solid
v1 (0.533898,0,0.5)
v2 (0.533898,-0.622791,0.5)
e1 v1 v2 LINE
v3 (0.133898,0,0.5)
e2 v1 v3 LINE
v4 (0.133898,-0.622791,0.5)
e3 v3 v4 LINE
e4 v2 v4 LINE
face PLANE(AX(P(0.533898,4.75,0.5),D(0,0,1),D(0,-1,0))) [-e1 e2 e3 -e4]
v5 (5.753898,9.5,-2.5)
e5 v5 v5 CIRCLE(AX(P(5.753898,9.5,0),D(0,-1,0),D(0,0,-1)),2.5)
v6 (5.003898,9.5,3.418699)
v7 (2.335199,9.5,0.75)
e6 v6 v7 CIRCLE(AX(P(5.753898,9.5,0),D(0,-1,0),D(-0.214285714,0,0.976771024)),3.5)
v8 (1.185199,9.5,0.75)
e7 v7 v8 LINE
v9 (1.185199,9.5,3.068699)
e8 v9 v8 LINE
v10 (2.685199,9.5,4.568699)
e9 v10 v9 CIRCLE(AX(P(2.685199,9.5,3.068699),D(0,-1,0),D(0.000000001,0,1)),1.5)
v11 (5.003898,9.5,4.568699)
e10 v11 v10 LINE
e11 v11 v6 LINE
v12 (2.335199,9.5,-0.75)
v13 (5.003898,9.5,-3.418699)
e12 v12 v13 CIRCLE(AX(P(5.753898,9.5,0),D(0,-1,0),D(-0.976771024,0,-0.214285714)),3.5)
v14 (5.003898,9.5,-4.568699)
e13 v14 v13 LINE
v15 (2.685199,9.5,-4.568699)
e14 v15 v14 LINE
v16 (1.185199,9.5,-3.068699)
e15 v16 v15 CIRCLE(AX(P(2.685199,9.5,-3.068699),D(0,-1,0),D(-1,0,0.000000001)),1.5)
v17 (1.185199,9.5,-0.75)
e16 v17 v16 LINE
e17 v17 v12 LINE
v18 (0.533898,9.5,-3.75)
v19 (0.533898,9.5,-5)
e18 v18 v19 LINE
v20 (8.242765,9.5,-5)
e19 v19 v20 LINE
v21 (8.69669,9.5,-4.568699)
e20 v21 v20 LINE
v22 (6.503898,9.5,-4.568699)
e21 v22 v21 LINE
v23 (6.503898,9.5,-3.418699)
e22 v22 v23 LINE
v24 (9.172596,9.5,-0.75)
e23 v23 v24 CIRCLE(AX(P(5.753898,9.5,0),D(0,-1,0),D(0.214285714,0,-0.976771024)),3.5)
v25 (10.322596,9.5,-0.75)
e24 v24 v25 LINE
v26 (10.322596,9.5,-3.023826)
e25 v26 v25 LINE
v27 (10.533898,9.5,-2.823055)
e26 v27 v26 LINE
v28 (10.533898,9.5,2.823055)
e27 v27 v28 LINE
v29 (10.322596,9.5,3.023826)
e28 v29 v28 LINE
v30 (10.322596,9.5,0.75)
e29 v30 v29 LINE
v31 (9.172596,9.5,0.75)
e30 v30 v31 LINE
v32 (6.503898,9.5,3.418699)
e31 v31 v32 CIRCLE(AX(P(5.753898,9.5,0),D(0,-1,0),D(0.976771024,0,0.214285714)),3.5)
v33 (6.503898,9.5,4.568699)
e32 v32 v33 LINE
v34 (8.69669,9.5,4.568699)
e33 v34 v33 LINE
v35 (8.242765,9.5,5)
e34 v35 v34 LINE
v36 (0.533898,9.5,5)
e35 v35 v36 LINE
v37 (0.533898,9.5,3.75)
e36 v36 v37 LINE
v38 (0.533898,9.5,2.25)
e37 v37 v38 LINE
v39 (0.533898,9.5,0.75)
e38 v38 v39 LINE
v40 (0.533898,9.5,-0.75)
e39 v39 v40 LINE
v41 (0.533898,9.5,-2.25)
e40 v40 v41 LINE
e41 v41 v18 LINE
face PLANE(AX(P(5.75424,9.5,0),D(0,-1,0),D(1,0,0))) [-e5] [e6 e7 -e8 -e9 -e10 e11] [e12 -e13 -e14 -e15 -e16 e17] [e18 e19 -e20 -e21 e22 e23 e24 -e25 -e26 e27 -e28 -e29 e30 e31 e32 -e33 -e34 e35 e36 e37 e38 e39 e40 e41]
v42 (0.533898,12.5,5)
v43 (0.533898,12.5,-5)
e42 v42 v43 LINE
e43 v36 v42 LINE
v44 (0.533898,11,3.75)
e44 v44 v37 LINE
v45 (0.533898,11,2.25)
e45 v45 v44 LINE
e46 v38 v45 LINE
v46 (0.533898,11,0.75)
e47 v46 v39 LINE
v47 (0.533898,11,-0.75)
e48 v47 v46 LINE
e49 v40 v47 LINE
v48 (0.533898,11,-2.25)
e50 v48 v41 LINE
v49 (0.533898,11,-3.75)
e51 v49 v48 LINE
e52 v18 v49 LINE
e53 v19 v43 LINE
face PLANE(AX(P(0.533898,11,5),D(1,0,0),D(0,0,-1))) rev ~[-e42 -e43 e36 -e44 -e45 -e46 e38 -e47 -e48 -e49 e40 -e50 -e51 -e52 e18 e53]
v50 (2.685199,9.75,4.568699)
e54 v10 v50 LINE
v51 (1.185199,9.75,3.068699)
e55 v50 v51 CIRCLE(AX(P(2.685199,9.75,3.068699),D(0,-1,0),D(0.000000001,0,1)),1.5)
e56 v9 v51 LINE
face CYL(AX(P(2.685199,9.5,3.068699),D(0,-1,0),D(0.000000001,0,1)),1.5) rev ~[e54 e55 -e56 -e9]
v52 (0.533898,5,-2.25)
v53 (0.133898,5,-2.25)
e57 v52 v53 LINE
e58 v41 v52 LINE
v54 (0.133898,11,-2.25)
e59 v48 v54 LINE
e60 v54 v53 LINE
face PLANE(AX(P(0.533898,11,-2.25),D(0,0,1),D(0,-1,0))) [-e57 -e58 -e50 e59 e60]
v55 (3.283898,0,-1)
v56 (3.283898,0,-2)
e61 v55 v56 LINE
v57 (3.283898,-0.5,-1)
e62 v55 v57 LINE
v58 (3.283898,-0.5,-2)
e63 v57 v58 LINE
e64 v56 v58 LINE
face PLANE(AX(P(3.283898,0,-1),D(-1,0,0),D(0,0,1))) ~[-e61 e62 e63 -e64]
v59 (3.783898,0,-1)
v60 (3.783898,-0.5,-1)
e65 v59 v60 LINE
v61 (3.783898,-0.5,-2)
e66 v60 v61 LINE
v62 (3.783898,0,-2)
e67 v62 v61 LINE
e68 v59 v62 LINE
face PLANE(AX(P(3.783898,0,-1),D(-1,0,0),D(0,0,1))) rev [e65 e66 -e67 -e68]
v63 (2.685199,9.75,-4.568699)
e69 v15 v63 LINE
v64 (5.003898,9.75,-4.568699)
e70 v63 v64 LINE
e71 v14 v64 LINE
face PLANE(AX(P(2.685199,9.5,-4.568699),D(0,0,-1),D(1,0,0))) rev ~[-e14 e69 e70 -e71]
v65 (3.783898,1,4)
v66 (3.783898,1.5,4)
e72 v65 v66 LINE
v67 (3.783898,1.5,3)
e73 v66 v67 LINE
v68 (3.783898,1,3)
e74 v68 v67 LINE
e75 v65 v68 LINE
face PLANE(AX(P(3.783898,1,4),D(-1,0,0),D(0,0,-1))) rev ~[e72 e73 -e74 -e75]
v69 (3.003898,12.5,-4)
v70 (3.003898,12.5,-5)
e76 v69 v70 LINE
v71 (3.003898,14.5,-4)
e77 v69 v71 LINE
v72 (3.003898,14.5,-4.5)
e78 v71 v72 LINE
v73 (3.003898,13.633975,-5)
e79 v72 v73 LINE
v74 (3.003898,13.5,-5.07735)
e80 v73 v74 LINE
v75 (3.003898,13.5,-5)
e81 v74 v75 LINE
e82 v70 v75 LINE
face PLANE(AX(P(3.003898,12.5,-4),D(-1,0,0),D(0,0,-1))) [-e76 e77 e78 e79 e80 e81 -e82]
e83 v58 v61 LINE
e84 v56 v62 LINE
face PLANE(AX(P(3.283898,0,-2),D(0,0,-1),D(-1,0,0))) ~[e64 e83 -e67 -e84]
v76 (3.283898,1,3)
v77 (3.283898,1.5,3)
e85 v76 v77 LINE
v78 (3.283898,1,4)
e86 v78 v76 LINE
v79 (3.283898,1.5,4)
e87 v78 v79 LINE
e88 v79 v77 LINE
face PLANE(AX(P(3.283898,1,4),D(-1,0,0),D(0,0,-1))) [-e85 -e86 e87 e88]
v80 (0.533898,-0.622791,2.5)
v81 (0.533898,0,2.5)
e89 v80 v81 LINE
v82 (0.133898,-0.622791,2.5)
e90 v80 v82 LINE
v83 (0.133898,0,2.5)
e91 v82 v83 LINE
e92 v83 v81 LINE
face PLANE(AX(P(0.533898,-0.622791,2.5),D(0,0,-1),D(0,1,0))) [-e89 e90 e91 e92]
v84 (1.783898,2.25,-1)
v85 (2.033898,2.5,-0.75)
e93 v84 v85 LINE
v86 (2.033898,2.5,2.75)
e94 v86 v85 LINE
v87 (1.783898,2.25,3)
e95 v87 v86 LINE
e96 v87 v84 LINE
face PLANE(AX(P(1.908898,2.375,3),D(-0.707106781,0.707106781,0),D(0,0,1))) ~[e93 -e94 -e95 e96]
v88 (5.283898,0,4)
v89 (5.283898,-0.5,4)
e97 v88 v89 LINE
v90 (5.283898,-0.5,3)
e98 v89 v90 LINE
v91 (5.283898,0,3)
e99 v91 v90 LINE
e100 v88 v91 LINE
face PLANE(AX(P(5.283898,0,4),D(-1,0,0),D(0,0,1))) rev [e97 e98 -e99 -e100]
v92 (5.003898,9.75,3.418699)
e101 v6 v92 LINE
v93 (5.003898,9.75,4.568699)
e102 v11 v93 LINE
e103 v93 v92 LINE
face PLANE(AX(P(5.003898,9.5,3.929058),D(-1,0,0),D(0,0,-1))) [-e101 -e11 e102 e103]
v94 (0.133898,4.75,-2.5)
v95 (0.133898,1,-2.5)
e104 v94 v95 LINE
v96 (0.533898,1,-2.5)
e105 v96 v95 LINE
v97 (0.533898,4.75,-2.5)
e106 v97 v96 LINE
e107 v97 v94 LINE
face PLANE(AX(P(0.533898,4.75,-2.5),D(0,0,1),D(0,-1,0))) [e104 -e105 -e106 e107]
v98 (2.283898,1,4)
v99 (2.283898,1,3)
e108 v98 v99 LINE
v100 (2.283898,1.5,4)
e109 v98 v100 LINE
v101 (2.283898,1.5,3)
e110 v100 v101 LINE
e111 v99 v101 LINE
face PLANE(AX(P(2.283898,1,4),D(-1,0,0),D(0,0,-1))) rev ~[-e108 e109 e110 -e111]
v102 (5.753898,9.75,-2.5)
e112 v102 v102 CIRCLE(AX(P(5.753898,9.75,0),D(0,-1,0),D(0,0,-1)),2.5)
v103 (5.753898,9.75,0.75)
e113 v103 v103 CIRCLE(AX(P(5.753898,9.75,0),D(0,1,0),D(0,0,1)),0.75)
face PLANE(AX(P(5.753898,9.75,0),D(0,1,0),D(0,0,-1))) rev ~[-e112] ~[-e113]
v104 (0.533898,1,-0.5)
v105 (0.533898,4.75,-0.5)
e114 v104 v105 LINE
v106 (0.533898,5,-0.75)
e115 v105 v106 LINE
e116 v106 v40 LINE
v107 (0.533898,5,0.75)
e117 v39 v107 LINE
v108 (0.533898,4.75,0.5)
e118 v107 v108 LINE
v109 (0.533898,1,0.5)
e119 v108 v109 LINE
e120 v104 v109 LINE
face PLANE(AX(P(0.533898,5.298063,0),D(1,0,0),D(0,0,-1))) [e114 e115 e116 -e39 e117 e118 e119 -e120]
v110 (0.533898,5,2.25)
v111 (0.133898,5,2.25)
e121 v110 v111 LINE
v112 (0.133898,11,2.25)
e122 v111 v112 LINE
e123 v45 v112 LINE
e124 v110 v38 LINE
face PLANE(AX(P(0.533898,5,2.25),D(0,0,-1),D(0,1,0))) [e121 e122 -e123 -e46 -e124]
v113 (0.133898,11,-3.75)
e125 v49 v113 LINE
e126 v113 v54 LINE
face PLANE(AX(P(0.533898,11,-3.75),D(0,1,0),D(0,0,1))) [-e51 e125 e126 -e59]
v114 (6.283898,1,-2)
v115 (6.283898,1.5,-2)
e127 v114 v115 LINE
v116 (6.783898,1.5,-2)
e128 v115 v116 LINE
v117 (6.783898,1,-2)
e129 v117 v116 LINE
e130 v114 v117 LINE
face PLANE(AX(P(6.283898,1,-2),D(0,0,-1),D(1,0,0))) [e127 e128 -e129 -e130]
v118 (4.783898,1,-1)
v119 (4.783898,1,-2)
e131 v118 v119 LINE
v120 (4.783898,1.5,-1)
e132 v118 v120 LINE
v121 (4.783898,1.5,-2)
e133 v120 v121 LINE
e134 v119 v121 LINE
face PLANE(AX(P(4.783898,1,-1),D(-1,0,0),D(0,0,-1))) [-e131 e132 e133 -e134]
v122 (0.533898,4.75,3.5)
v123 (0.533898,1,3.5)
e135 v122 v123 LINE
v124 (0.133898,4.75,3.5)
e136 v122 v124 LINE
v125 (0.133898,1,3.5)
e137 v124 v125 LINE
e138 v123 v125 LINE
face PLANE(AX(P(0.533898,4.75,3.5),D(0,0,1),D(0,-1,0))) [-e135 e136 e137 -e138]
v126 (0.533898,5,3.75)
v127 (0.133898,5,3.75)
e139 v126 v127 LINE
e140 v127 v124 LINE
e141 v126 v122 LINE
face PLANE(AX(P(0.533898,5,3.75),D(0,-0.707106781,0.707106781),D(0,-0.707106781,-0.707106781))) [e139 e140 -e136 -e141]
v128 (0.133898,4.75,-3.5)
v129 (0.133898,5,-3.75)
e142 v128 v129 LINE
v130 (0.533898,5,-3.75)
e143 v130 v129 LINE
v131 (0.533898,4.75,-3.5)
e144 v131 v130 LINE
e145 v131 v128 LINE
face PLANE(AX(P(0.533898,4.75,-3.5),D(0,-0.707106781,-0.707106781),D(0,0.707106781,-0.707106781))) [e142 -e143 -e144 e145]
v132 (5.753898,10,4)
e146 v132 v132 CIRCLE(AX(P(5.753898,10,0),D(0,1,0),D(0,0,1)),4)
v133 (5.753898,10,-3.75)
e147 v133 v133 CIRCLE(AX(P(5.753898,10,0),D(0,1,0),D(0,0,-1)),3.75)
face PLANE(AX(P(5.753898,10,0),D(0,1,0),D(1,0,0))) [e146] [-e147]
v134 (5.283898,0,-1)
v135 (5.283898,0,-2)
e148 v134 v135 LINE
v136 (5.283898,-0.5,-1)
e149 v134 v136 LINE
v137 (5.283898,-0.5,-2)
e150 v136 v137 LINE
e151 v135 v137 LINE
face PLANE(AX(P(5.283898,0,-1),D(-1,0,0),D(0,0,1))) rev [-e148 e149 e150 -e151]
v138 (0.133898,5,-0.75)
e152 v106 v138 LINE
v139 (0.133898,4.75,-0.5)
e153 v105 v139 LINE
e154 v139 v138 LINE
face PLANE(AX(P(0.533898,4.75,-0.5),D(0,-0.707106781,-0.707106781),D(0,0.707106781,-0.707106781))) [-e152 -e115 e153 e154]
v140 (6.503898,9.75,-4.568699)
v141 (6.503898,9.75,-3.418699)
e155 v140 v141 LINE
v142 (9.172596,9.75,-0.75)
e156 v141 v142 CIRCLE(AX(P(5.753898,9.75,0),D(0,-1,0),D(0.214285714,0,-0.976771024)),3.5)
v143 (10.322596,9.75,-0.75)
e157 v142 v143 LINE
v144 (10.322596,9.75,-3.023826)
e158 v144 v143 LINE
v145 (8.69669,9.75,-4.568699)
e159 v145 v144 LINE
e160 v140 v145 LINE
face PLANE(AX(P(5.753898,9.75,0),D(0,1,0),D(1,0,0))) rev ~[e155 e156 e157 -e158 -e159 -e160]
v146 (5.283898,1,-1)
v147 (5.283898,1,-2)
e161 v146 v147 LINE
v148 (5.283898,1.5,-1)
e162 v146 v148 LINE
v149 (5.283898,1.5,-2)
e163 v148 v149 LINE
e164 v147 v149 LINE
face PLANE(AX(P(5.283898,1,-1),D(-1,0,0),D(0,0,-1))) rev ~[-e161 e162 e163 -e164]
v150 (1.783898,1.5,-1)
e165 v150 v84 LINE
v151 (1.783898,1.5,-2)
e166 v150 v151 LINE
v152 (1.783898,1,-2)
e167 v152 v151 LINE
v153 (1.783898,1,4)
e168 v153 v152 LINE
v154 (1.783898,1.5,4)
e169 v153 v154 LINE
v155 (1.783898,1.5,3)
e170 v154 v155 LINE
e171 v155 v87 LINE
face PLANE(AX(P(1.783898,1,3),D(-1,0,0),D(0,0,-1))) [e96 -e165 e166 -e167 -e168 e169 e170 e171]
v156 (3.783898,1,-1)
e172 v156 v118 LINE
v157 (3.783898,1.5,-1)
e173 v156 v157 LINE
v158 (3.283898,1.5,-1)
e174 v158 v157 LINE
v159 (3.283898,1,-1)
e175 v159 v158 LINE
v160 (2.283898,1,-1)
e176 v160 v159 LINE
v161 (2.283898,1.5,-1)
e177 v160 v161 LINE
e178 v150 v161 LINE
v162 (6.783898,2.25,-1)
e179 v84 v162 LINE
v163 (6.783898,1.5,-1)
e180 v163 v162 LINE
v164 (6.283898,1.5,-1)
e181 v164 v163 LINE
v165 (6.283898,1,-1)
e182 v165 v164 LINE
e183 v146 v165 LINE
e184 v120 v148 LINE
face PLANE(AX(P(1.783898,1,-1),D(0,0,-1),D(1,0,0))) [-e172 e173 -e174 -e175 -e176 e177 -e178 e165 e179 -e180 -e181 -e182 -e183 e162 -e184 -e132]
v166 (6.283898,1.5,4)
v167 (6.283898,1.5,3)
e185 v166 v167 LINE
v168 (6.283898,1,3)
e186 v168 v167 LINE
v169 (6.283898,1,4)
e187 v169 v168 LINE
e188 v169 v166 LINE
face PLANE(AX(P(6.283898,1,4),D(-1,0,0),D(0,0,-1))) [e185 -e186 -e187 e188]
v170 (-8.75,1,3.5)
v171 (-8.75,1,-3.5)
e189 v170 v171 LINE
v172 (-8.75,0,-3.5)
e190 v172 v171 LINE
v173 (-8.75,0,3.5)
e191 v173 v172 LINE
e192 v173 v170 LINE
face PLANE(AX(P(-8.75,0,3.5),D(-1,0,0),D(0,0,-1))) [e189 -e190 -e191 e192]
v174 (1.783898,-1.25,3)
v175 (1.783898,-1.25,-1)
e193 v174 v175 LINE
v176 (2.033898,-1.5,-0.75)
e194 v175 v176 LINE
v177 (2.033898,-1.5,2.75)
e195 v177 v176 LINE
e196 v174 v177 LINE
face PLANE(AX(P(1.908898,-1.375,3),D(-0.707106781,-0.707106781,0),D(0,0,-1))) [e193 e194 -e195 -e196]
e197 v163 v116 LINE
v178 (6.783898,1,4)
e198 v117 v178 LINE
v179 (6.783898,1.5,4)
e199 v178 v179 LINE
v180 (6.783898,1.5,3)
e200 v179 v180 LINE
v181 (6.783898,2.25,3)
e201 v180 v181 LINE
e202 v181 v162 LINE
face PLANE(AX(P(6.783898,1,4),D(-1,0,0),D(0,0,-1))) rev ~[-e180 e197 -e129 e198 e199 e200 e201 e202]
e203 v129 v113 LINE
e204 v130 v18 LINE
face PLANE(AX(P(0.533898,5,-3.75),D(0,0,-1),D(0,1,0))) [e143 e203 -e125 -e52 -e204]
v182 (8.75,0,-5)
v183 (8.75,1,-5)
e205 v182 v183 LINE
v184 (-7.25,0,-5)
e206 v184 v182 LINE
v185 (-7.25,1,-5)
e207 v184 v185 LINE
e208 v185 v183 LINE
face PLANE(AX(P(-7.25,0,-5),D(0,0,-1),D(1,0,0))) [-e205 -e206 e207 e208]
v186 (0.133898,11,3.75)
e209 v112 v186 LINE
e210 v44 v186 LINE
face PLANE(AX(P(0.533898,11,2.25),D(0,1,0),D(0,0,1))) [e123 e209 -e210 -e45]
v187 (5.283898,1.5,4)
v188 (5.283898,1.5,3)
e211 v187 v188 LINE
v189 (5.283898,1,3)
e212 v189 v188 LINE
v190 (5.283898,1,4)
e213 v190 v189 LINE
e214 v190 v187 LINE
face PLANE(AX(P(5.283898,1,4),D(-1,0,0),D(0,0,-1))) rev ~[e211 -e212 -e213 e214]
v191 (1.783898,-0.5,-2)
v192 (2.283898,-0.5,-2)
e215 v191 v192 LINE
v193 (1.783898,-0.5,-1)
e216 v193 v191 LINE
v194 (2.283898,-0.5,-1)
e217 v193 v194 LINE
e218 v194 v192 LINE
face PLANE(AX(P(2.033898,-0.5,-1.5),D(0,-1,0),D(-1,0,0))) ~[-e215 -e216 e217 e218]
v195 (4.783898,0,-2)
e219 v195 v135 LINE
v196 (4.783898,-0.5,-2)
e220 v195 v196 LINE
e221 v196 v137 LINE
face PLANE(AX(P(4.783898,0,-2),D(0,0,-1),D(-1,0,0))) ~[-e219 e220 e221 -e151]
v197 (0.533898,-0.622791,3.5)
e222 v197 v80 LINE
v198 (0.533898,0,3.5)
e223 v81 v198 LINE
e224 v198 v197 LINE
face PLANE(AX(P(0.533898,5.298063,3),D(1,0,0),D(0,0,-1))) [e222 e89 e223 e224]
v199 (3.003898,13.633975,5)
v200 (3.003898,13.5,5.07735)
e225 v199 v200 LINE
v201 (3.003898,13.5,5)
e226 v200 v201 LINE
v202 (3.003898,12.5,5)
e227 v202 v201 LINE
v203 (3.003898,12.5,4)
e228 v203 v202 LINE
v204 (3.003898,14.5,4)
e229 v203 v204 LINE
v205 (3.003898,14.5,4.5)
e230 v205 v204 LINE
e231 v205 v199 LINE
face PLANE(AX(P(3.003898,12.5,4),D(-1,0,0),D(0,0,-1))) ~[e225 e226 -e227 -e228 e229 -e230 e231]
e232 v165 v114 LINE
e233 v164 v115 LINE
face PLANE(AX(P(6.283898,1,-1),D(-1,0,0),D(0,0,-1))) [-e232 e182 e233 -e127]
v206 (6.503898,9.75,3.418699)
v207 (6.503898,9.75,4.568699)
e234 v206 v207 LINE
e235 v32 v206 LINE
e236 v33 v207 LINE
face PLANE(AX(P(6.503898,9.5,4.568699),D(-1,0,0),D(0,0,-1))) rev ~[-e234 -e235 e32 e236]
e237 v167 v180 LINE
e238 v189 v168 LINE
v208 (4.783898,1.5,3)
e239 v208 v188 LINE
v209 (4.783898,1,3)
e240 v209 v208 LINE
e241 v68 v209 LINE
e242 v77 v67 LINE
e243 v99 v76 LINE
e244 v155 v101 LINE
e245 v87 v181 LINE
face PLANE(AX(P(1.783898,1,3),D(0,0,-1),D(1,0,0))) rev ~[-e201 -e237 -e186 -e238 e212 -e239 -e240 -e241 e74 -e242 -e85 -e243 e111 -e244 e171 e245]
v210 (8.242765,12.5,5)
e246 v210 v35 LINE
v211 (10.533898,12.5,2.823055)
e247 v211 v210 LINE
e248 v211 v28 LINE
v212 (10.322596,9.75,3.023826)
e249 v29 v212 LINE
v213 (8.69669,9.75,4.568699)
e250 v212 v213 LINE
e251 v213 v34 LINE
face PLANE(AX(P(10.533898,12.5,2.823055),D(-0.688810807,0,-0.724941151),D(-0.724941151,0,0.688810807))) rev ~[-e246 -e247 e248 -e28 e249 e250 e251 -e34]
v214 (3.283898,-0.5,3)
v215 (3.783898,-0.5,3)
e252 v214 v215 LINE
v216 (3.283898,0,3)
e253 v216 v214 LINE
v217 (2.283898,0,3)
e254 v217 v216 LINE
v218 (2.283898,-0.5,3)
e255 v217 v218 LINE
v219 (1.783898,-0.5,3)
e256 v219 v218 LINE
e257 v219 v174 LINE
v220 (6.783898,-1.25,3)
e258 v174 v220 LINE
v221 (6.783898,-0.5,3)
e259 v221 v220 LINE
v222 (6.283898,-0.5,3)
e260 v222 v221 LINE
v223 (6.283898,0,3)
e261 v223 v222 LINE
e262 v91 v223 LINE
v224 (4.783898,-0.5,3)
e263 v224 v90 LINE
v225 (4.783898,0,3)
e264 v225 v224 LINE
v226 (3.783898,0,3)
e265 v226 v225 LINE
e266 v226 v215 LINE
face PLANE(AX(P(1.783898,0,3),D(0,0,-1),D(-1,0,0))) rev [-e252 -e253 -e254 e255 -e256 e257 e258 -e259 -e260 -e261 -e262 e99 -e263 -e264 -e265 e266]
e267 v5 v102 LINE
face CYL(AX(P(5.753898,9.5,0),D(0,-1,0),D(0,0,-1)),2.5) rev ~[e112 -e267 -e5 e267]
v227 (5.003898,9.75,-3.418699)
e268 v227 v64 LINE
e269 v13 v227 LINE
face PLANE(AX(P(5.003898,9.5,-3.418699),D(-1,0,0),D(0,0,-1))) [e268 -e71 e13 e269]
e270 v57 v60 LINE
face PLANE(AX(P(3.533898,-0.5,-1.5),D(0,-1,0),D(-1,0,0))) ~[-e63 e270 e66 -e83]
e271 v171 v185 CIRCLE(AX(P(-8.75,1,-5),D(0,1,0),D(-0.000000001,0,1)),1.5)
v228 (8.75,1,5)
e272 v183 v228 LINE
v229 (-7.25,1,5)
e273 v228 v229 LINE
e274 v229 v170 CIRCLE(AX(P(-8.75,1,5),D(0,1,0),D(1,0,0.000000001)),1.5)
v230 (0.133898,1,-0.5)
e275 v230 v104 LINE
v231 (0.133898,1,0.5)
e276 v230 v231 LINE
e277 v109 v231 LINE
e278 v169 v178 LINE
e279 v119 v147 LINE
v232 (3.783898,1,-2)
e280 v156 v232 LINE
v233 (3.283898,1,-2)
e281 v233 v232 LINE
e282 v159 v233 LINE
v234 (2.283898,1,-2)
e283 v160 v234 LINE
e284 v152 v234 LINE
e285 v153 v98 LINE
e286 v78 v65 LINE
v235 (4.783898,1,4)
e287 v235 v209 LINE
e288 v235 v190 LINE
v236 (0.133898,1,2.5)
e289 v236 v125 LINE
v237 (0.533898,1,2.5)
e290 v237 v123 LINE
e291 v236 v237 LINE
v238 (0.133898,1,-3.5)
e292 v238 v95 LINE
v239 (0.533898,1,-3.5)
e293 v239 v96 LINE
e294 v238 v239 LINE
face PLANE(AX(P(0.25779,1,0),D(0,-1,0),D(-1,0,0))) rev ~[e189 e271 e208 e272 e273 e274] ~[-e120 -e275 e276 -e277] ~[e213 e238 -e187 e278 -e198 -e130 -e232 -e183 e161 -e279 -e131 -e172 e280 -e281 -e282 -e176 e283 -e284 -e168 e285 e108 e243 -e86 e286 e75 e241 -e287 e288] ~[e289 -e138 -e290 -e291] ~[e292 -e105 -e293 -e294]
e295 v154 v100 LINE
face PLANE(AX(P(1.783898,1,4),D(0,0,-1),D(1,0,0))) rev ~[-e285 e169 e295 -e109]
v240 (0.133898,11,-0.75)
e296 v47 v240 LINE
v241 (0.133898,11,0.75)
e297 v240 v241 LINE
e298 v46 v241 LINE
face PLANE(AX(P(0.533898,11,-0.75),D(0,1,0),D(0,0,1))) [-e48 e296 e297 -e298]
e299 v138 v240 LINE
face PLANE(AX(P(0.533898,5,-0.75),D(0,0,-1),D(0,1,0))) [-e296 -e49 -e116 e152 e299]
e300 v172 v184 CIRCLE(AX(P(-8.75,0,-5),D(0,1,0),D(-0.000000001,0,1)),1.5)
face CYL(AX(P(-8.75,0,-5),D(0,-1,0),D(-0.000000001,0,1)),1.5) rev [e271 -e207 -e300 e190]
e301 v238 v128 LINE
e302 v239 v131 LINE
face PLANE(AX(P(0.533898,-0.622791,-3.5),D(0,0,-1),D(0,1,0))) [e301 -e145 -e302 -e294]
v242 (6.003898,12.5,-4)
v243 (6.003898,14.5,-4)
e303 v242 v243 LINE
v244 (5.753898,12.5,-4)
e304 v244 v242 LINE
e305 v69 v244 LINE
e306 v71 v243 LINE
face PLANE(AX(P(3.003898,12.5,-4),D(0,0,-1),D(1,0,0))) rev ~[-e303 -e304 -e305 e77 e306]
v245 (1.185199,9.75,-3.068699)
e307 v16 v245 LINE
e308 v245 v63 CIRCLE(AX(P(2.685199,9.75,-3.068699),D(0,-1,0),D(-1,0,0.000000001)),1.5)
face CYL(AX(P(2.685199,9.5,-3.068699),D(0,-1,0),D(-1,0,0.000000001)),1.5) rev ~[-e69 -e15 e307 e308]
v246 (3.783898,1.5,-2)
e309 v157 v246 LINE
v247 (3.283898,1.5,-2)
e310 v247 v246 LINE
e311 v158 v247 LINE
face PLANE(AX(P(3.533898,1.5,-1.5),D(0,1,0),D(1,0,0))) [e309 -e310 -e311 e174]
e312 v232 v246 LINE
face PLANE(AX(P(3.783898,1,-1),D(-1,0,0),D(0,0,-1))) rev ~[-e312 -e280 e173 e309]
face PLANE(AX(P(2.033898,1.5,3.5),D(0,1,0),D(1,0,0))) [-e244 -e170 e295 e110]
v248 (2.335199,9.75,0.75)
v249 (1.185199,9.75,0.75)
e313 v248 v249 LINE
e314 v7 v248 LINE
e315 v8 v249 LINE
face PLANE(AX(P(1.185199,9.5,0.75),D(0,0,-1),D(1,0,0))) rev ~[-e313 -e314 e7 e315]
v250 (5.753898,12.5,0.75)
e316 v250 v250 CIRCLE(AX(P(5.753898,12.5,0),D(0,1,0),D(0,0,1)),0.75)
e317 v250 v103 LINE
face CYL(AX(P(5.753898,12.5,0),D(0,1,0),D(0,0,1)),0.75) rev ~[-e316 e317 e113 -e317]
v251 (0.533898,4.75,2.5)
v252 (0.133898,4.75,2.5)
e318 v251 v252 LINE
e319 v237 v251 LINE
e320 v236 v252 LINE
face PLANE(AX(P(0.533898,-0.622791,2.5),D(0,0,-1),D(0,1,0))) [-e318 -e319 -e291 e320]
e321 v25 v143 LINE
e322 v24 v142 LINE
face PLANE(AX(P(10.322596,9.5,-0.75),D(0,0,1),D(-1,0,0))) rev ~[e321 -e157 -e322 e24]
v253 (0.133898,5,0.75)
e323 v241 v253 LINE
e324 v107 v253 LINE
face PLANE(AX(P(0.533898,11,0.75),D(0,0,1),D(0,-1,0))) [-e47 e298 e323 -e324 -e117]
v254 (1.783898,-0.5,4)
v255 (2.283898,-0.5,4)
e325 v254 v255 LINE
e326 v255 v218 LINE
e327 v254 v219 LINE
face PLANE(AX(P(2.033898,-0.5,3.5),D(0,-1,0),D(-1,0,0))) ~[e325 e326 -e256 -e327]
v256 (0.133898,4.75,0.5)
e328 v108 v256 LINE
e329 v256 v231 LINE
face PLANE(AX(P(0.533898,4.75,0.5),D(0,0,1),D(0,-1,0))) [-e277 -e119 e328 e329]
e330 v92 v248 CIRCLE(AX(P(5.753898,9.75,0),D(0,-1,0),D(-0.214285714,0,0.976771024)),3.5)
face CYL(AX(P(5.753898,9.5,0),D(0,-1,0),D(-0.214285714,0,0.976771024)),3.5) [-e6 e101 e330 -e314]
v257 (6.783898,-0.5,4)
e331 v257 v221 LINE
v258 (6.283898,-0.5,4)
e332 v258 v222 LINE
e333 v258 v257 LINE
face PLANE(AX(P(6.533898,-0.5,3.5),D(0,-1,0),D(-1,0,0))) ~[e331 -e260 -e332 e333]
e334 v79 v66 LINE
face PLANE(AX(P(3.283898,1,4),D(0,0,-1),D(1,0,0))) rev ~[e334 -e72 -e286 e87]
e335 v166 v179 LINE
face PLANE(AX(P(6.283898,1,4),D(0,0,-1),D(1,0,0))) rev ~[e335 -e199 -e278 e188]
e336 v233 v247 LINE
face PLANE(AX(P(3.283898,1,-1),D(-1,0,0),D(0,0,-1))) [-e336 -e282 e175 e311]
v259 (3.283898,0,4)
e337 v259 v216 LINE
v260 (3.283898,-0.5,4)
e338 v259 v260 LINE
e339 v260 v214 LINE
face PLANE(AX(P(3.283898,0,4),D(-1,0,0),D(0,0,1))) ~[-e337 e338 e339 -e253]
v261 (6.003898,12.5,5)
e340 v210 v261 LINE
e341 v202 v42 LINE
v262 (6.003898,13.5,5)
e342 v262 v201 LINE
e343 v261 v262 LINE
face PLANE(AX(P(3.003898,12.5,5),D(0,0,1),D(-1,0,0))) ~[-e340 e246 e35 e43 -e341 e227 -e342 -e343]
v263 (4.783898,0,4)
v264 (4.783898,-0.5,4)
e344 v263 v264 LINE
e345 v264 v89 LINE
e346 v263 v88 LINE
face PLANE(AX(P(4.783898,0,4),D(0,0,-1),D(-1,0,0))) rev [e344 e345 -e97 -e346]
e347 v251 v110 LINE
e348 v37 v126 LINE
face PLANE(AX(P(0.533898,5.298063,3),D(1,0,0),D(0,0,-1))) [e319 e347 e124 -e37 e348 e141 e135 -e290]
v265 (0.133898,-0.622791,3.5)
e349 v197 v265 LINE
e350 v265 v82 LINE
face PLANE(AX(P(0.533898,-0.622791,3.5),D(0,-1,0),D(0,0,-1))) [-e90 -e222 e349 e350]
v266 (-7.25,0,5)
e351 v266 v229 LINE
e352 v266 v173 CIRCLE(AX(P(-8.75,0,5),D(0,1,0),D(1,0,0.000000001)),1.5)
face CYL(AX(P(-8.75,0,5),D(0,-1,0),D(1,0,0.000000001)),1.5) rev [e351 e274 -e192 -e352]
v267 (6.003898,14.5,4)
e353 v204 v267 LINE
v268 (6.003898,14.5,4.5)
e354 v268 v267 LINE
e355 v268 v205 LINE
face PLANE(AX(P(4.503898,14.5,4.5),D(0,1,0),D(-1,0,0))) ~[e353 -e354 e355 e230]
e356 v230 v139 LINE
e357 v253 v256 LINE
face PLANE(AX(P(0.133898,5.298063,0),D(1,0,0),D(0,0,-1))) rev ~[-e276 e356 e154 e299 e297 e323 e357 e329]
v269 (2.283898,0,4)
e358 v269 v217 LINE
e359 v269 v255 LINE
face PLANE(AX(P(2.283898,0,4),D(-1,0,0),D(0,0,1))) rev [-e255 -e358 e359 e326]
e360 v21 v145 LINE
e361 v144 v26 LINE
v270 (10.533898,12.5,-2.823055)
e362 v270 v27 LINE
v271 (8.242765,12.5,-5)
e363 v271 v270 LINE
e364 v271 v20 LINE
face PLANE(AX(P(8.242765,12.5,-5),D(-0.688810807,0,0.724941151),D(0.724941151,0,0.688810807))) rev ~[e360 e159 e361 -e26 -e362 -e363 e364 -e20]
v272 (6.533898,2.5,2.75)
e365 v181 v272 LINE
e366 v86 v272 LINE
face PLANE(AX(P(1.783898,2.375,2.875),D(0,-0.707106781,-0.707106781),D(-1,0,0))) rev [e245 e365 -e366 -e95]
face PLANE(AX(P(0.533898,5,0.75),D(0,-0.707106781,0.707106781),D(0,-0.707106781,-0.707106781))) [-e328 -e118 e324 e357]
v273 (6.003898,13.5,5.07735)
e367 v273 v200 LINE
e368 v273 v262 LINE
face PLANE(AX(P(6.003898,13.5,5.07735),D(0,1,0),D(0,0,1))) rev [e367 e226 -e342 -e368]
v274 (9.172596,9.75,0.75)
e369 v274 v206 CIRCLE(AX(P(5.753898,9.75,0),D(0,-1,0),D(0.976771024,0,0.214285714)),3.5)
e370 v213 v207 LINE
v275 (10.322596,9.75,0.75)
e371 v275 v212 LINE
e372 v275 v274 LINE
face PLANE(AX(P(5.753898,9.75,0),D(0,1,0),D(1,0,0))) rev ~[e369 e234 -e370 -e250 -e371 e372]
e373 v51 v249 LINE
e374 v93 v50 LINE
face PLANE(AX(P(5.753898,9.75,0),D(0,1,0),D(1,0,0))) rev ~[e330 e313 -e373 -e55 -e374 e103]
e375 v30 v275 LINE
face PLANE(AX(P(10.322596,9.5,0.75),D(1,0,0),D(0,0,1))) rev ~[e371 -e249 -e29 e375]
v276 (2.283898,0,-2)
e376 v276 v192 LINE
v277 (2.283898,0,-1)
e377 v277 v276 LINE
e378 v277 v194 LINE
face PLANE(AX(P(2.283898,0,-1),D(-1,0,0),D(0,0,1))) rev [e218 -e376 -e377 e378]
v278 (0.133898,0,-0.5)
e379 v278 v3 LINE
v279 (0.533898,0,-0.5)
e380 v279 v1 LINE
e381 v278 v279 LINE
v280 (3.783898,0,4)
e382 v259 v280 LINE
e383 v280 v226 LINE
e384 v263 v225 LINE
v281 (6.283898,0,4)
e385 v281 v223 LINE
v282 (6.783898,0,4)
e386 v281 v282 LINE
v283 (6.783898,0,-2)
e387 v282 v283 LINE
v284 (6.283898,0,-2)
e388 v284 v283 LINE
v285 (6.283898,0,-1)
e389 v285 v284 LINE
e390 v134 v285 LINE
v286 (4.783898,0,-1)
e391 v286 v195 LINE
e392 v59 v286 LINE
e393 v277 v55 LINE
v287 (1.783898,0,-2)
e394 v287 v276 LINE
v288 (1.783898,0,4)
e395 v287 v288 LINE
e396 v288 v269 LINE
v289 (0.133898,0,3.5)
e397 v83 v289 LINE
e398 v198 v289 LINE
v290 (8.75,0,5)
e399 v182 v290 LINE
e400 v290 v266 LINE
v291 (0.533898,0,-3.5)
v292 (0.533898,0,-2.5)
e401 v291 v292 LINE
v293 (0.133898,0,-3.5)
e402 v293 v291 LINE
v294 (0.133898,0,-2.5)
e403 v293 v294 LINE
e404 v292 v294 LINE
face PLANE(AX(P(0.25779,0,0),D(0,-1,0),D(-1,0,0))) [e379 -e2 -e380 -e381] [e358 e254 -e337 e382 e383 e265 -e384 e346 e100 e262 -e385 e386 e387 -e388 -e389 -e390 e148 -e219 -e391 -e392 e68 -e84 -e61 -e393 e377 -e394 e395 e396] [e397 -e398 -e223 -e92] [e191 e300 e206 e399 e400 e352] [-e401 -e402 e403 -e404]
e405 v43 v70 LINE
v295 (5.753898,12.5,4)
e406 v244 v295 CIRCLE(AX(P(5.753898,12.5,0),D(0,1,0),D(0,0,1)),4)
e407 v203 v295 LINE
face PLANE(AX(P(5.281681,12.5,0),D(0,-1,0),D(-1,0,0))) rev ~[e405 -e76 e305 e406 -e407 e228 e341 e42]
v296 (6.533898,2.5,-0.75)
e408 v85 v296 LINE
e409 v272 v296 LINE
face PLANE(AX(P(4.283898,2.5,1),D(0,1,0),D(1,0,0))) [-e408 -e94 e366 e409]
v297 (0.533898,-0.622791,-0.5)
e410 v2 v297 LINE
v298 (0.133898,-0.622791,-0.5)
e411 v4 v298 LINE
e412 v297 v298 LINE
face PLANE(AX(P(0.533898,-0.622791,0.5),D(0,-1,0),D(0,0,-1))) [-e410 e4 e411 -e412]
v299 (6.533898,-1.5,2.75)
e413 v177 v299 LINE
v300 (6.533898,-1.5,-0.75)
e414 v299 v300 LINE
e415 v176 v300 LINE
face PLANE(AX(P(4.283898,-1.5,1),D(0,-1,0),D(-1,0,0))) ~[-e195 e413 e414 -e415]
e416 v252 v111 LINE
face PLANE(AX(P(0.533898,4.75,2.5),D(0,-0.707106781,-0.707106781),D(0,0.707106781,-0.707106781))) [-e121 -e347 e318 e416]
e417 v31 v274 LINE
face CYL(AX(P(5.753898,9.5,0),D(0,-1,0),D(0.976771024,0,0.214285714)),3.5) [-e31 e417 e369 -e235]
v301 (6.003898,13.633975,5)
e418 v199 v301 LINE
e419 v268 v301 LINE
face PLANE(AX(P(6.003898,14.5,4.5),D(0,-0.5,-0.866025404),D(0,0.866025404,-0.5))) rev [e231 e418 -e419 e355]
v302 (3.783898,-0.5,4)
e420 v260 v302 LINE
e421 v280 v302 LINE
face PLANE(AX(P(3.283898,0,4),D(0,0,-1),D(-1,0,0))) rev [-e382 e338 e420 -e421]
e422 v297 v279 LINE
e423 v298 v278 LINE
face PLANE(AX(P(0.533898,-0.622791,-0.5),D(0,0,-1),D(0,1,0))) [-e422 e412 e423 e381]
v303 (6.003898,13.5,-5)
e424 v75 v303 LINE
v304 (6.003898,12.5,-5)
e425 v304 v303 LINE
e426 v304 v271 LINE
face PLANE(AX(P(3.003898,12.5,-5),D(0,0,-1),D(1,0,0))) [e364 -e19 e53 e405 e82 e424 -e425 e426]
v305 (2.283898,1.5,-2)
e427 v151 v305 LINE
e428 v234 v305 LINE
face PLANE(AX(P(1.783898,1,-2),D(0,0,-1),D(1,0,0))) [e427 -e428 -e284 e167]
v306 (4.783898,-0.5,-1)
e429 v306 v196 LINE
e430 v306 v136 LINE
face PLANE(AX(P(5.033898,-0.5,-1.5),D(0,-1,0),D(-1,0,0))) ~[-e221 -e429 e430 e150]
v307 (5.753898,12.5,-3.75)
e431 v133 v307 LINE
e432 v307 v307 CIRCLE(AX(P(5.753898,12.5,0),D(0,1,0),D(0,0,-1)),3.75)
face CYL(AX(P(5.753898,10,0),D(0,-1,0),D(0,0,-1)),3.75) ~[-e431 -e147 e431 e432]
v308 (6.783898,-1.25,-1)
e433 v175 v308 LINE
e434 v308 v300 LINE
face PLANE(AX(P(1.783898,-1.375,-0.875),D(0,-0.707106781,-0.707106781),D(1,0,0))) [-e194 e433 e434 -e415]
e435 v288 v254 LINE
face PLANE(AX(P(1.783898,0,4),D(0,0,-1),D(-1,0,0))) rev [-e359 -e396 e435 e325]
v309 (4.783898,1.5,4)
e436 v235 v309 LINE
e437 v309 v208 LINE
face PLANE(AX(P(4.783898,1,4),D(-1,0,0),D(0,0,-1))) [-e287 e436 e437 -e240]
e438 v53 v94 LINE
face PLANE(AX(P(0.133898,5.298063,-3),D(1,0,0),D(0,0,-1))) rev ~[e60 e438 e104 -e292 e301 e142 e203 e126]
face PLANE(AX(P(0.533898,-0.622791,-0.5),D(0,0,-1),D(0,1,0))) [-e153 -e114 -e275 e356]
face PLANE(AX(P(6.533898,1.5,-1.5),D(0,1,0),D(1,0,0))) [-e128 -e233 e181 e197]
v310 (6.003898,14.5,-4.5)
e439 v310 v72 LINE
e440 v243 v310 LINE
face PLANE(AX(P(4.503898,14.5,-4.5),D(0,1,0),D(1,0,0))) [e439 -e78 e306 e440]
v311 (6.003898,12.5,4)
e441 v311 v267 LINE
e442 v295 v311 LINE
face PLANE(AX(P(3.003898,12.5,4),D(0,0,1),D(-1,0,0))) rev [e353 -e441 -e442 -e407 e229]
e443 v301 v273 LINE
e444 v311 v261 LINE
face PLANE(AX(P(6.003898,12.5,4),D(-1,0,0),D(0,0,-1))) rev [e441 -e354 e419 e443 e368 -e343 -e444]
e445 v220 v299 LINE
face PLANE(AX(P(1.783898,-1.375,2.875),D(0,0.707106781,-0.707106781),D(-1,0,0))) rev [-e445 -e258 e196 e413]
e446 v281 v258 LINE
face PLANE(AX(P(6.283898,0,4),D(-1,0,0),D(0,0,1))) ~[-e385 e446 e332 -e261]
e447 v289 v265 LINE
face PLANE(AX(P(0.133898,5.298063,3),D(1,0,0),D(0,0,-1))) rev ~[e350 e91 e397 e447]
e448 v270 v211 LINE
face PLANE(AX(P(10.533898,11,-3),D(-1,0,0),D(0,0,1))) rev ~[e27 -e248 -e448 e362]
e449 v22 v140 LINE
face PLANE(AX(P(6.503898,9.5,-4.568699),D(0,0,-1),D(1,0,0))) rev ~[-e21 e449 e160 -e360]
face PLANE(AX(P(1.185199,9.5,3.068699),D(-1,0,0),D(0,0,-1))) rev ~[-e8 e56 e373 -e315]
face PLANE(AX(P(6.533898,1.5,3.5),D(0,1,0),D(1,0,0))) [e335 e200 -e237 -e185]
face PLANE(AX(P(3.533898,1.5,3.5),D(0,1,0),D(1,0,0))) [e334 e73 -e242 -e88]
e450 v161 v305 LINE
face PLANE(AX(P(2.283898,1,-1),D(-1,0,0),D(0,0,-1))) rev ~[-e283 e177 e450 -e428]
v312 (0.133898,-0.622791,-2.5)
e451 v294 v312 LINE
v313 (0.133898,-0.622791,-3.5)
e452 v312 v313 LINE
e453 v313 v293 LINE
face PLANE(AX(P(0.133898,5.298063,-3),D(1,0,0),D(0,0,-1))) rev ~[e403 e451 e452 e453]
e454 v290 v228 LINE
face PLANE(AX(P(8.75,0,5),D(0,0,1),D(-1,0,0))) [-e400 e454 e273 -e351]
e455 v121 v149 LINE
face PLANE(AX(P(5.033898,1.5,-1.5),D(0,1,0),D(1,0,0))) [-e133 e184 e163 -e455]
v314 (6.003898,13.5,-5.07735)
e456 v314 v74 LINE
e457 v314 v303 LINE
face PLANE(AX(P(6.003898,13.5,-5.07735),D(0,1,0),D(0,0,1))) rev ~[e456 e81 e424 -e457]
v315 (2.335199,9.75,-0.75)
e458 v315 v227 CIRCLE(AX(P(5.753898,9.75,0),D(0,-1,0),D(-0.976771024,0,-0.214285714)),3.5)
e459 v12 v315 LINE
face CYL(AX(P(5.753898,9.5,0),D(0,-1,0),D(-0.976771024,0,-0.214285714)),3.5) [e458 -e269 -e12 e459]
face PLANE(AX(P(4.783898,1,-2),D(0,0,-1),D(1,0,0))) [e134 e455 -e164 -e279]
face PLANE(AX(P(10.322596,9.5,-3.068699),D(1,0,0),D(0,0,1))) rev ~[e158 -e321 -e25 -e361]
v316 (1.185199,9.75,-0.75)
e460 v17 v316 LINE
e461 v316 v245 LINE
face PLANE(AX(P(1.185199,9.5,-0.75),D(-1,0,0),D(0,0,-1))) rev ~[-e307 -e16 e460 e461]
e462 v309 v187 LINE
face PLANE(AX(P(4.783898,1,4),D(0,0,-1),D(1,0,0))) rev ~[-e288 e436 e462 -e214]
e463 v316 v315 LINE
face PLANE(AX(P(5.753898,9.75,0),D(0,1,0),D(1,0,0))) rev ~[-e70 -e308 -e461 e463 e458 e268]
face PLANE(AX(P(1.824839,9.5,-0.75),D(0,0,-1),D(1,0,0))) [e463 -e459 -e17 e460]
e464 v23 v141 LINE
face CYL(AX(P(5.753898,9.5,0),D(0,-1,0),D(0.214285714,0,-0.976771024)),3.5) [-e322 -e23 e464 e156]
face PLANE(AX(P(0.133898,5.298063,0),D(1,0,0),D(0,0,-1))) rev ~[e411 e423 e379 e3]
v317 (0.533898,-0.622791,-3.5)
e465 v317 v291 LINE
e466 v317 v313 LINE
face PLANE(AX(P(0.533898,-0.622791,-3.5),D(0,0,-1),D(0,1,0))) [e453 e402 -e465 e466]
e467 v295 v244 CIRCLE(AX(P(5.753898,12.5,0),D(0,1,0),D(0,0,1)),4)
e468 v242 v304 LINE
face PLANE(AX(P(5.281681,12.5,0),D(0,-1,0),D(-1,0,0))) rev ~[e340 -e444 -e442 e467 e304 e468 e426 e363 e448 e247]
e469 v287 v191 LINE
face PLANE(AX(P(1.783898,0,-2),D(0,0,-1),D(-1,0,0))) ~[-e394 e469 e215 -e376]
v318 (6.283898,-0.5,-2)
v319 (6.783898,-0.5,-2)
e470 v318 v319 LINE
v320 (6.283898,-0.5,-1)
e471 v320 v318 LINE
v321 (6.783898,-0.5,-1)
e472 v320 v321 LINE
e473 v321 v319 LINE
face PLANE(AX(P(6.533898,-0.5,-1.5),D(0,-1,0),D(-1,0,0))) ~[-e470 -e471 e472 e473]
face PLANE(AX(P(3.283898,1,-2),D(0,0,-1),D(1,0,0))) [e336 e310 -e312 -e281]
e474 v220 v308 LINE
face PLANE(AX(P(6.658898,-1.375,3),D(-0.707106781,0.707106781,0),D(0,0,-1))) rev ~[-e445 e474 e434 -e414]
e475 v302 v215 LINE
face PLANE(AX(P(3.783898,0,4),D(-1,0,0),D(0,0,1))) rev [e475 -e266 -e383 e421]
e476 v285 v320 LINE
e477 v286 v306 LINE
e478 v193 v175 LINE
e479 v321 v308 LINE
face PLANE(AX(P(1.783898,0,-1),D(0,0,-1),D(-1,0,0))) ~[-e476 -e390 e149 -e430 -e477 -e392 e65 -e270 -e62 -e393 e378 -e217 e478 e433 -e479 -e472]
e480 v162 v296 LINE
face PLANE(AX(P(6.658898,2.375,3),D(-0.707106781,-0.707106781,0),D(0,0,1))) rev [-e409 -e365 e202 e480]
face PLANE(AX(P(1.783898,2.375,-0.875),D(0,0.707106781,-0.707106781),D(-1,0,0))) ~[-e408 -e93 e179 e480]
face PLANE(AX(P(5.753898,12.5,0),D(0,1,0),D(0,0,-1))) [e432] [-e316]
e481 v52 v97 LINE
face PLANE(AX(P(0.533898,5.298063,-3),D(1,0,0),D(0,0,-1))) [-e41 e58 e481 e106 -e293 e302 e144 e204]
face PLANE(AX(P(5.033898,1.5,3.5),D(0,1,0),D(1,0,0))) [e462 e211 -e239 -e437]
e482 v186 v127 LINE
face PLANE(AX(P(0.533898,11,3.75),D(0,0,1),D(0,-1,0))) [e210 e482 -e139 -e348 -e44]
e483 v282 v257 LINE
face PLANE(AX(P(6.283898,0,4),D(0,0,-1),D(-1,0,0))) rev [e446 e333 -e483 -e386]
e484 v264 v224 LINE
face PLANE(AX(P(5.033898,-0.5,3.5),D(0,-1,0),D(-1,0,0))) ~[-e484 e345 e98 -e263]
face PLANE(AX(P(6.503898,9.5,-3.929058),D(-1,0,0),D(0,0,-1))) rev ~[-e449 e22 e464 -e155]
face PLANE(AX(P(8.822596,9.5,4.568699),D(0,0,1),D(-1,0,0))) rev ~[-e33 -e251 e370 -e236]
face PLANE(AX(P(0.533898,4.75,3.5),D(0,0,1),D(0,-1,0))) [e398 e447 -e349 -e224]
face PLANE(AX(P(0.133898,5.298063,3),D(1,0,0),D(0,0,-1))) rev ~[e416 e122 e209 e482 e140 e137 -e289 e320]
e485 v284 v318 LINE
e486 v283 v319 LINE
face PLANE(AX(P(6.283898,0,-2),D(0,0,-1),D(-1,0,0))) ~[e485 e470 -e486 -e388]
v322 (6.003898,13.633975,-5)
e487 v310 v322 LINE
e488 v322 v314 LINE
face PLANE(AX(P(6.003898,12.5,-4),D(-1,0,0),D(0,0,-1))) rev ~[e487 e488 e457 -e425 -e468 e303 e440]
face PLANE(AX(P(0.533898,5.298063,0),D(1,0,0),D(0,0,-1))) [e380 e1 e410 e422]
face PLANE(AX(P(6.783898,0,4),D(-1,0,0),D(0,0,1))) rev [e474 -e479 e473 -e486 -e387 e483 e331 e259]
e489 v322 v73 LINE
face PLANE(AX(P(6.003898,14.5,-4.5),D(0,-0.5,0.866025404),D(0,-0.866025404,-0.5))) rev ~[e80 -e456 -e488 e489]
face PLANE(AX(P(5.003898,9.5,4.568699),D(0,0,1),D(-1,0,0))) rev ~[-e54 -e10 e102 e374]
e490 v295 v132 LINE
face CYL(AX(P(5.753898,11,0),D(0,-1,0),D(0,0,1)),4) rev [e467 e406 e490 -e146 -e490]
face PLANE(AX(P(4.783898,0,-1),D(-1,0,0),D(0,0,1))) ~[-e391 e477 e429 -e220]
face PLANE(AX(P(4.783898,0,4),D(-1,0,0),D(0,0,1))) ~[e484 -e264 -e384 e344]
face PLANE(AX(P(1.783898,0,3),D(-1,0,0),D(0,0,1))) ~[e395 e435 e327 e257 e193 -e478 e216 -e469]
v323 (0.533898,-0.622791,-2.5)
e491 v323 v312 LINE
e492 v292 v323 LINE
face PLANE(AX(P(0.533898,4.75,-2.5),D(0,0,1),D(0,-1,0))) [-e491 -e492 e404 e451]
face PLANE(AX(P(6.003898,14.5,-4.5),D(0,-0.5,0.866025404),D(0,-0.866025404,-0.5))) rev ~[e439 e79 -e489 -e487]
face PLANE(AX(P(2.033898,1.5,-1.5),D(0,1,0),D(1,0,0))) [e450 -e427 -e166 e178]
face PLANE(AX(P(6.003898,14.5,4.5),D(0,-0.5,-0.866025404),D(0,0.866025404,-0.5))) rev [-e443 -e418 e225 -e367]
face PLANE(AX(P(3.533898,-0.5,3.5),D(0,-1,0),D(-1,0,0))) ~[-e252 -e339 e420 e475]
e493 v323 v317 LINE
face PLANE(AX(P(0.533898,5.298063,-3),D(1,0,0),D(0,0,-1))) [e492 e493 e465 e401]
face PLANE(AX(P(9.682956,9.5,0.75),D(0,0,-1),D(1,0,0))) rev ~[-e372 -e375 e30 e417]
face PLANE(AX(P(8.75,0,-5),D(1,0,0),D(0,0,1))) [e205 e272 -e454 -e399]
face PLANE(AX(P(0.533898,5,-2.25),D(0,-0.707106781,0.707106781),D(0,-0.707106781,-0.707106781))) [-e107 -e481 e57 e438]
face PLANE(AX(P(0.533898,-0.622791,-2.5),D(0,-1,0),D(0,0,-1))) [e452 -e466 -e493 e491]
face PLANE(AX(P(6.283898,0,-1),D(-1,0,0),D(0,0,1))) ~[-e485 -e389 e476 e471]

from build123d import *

# Parameters (mm, degrees)
BOSS_EXTRUDE1_DEPTH      = 1
SKETCH2_W                = 5
SKETCH2_H                = 4
BOSS_EXTRUDE2_DEPTH      = 1.5
CHAMFER1_SIZE            = 0.25
SKETCH4_W                = 0.5
SKETCH4_H                = 1
BOSS_EXTRUDE3_DEPTH      = 0.5
BOSS_EXTRUDE4_DEPTH      = 0.4
CHAMFER1_OF_MIRROR1_SIZE = 0.25
SKETCH6_R                = 4
BOSS_EXTRUDE5_DEPTH      = 1.5
SKETCH7_W                = 3
SKETCH7_H                = 1
BOSS_EXTRUDE6_DEPTH      = 2
BOSS_EXTRUDE7_DEPTH      = 3
CUT_EXTRUDE1_DEPTH       = 3
SKETCH10_R               = 2.5
BOSS_EXTRUDE8_DEPTH      = 0.25
CUT_EXTRUDE2_DEPTH       = 0.25
SKETCH13_R               = 2.5
BOSS_EXTRUDE11_DEPTH     = 0.25
BOSS_EXTRUDE12_START     = -0.25
SKETCH14_R               = 2.5
BOSS_EXTRUDE12_DEPTH     = 0.25
SKETCH15_R               = 3.75
BOSS_EXTRUDE13_DEPTH     = 2.5
SKETCH17_R               = 0.75
CUT_EXTRUDE3_DEPTH       = 3
CUT_EXTRUDE5_DEPTH       = 7


with BuildPart() as part:
    # Sketch1 → Boss-Extrude1 (new body)
    with BuildSketch(Plane(origin=(0, 0, 0), x_dir=(1, 0, 0), z_dir=(0, 1, 0))):
        with BuildLine():
            Line((8.75, -5), (-7.25, -5))
            ThreePointArc((-7.25, -5), (-7.689339828, -3.939339828), (-8.75, -3.5))
            Line((-8.75, -3.5), (-8.75, 3.5))
            ThreePointArc((-8.75, 3.5), (-7.689339828, 3.939339828), (-7.25, 5))
            Line((-7.25, 5), (8.75, 5))
            Line((8.75, 5), (8.75, -5))
        make_face()
    extrude(amount=BOSS_EXTRUDE1_DEPTH)

    # Sketch2 → Boss-Extrude2 (add)
    with BuildSketch(Plane(origin=(0, 1, 0), x_dir=(1, 0, 0), z_dir=(0, 1, 0))):
        with Locations((4.283897802, -1)):
            Rectangle(SKETCH2_W, SKETCH2_H)
    boss_extrude2 = extrude(amount=BOSS_EXTRUDE2_DEPTH)

    # Chamfer1
    chamfer1_edges = [part.edges().sort_by_distance(p)[0] for p in [
        (6.783897802, 2.5, 1),
        (4.283897802, 2.5, -1),
        (1.783897802, 2.5, 1),
        (4.283897802, 2.5, 3),
    ]]
    chamfer(chamfer1_edges, length=CHAMFER1_SIZE)

    # Sketch4 → Boss-Extrude3 (add)
    with BuildSketch(Plane(origin=(0, 1, 0), x_dir=(1, 0, 0), z_dir=(0, 1, 0))):
        with Locations((5.033897802, -3.5)):
            Rectangle(SKETCH4_W, SKETCH4_H)
        with Locations((6.533897802, -3.5)):
            Rectangle(SKETCH4_W, SKETCH4_H)
        with Locations((3.533897802, -3.5)):
            Rectangle(SKETCH4_W, SKETCH4_H)
        with Locations((2.033897802, -3.5)):
            Rectangle(SKETCH4_W, SKETCH4_H)
        with Locations((6.533897802, 1.5)):
            Rectangle(SKETCH4_W, SKETCH4_H)
        with Locations((5.033897802, 1.5)):
            Rectangle(SKETCH4_W, SKETCH4_H)
        with Locations((3.533897802, 1.5)):
            Rectangle(SKETCH4_W, SKETCH4_H)
        with Locations((2.033897802, 1.5)):
            Rectangle(SKETCH4_W, SKETCH4_H)
    boss_extrude3 = extrude(amount=BOSS_EXTRUDE3_DEPTH)

    # Sketch5 → Boss-Extrude4 (add)
    with BuildSketch(Plane.ZY.offset(-0.533897802)):
        Polygon((3.5, -0.622790988), (2.5, -0.622790988), (2.5, 4.75), (2.25, 5), (2.25, 11), (3.75, 11), (3.75, 5), (3.5, 4.75), align=None)
        Polygon((0.5, -0.622790988), (-0.5, -0.622790988), (-0.5, 4.75), (-0.75, 5), (-0.75, 11), (0.75, 11), (0.75, 5), (0.5, 4.75), align=None)
        Polygon((-2.5, -0.622790988), (-3.5, -0.622790988), (-3.5, 4.75), (-3.75, 5), (-3.75, 11), (-2.25, 11), (-2.25, 5), (-2.5, 4.75), align=None)
    extrude(amount=BOSS_EXTRUDE4_DEPTH)

    # Mirror1: Boss-Extrude2, Boss-Extrude3 across plane
    add(boss_extrude2.mirror(Plane.ZX.offset(0.5)))
    add(boss_extrude3.mirror(Plane.ZX.offset(0.5)))

    # Chamfer1 of Mirror1
    chamfer1_of_mirror1_edges = [part.edges().sort_by_distance(p)[0] for p in [
        (6.783897802, -1.5, 1),
        (4.283897802, -1.5, -1),
        (1.783897802, -1.5, 1),
        (4.283897802, -1.5, 3),
    ]]
    chamfer(chamfer1_of_mirror1_edges, length=CHAMFER1_OF_MIRROR1_SIZE)

    # Sketch6 → Boss-Extrude5 (add, symmetric)
    with BuildSketch(Plane(origin=(0, 11, 0), x_dir=(1, 0, 0), z_dir=(0, 1, 0))):
        with BuildLine():
            Line((0.533897802, 5), (8.533897802, 5))
            ThreePointArc((8.533897802, 5), (9.948111365, 4.414213562), (10.533897802, 3))
            Line((10.533897802, 3), (10.533897802, -3))
            ThreePointArc((10.533897802, -3), (9.948111365, -4.414213562), (8.533897802, -5))
            Line((8.533897802, -5), (0.533897802, -5))
            Line((0.533897802, -5), (0.533897802, 5))
        make_face()
        with Locations(Location((5.753897802, 0, 0), (0, 0, 270))):
            Circle(SKETCH6_R, mode=Mode.SUBTRACT)
    extrude(amount=BOSS_EXTRUDE5_DEPTH, both=True)

    # Sketch7 → Boss-Extrude6 (add)
    with BuildSketch(Plane(origin=(0, 12.5, 0), x_dir=(1, 0, 0), z_dir=(0, 1, 0))):
        with Locations((4.503897802, 4.5)):
            Rectangle(SKETCH7_W, SKETCH7_H)
    boss_extrude6 = extrude(amount=BOSS_EXTRUDE6_DEPTH)

    # Sketch8 → Boss-Extrude7 (add)
    with BuildSketch(Plane(origin=(6.003897802, 0, 0), x_dir=(0, 0, -1), z_dir=(1, 0, 0))):
        Polygon((4.5, 14.5), (5.077350269, 13.5), (4.5, 13.5), align=None)
    boss_extrude7 = extrude(amount=-BOSS_EXTRUDE7_DEPTH)

    # Sketch9 → Cut-Extrude1 (cut)
    with BuildSketch(Plane(origin=(6.003897802, 0, 0), x_dir=(0, 0, -1), z_dir=(1, 0, 0))):
        Polygon((4.5, 14.5), (5, 13.633974596), (5, 14.5), align=None)
    cut_extrude1 = extrude(amount=-CUT_EXTRUDE1_DEPTH, mode=Mode.SUBTRACT)

    # Mirror2: Boss-Extrude6, Boss-Extrude7, Cut-Extrude1 across plane
    add(boss_extrude6.mirror(Plane.XY))
    add(boss_extrude7.mirror(Plane.XY))
    add(cut_extrude1.mirror(Plane.XY), mode=Mode.SUBTRACT)

    # Sketch10 → Boss-Extrude8 (add)
    with BuildSketch(Plane.XZ.offset(-9.5)):
        with BuildLine():
            ThreePointArc((5.003897802, -3.929058411), (5.753897802, -4), (6.503897802, -3.929058411))
            Line((6.503897802, -3.929058411), (6.503897802, -3.418698583))
            ThreePointArc((6.503897802, -3.418698583), (8.228771537, -2.474873734), (9.172596385, -0.75))
            Line((9.172596385, -0.75), (9.682956214, -0.75))
            ThreePointArc((9.682956214, -0.75), (9.736122912, -0.376673834), (9.753897802, 0))
            ThreePointArc((9.753897802, 0), (9.736122912, 0.376673834), (9.682956214, 0.75))
            Line((9.682956214, 0.75), (9.172596385, 0.75))
            ThreePointArc((9.172596385, 0.75), (8.228771537, 2.474873734), (6.503897802, 3.418698583))
            Line((6.503897802, 3.418698583), (6.503897802, 3.929058411))
            ThreePointArc((6.503897802, 3.929058411), (5.753897802, 4), (5.003897802, 3.929058411))
            Line((5.003897802, 3.929058411), (5.003897802, 3.418698583))
            ThreePointArc((5.003897802, 3.418698583), (3.279024068, 2.474873734), (2.33519922, 0.75))
            Line((2.33519922, 0.75), (1.824839391, 0.75))
            ThreePointArc((1.824839391, 0.75), (1.753897802, 0), (1.824839391, -0.75))
            Line((1.824839391, -0.75), (2.33519922, -0.75))
            ThreePointArc((2.33519922, -0.75), (3.279024068, -2.474873734), (5.003897802, -3.418698583))
            Line((5.003897802, -3.418698583), (5.003897802, -3.929058411))
        make_face()
        with Locations(Location((5.753897802, 0, 0), (0, 0, 270))):
            Circle(SKETCH10_R, mode=Mode.SUBTRACT)
    extrude(amount=-BOSS_EXTRUDE8_DEPTH)

    # Sketch11 → Cut-Extrude2 (cut)
    with BuildSketch(Plane.XZ.offset(-9.5)):
        with BuildLine():
            Line((9.682956214, 0.75), (10.322596385, 0.75))
            Line((10.322596385, 0.75), (10.322596385, 3.068698583))
            ThreePointArc((10.322596385, 3.068698583), (9.883256557, 4.129358755), (8.822596385, 4.568698583))
            Line((8.822596385, 4.568698583), (6.503897802, 4.568698583))
            Line((6.503897802, 4.568698583), (6.503897802, 3.929058411))
            ThreePointArc((6.503897802, 3.929058411), (8.582324927, 2.828427125), (9.682956214, 0.75))
        make_face()
        with BuildLine():
            Line((10.322596385, -3.068698583), (10.322596385, -0.75))
            Line((10.322596385, -0.75), (9.682956214, -0.75))
            ThreePointArc((9.682956214, -0.75), (8.582324927, -2.828427125), (6.503897802, -3.929058411))
            Line((6.503897802, -3.929058411), (6.503897802, -4.568698583))
            Line((6.503897802, -4.568698583), (8.822596385, -4.568698583))
            ThreePointArc((8.822596385, -4.568698583), (9.883256557, -4.129358755), (10.322596385, -3.068698583))
        make_face()
        with BuildLine():
            Line((2.68519922, -4.568698583), (5.003897802, -4.568698583))
            Line((5.003897802, -4.568698583), (5.003897802, -3.929058411))
            ThreePointArc((5.003897802, -3.929058411), (2.925470678, -2.828427125), (1.824839391, -0.75))
            Line((1.824839391, -0.75), (1.18519922, -0.75))
            Line((1.18519922, -0.75), (1.18519922, -3.068698583))
            ThreePointArc((1.18519922, -3.068698583), (1.624539048, -4.129358755), (2.68519922, -4.568698583))
        make_face()
        with BuildLine():
            Line((1.18519922, 3.068698583), (1.18519922, 0.75))
            Line((1.18519922, 0.75), (1.824839391, 0.75))
            ThreePointArc((1.824839391, 0.75), (2.925470678, 2.828427125), (5.003897802, 3.929058411))
            Line((5.003897802, 3.929058411), (5.003897802, 4.568698583))
            Line((5.003897802, 4.568698583), (2.68519922, 4.568698583))
            ThreePointArc((2.68519922, 4.568698583), (1.624539048, 4.129358755), (1.18519922, 3.068698583))
        make_face()
    extrude(amount=-CUT_EXTRUDE2_DEPTH, mode=Mode.SUBTRACT)

    # Sketch13 → Boss-Extrude11 (add)
    with BuildSketch(Plane(origin=(0, 9.75, 0), x_dir=(1, 0, 0), z_dir=(0, 1, 0))):
        with BuildLine():
            ThreePointArc((5.753897802, -4), (9.753897802, 0), (5.753897802, 4))
            ThreePointArc((5.753897802, 4), (1.753897802, 0), (5.753897802, -4))
        make_face()
        with Locations(Location((5.753897802, 0, 0), (0, 0, 90))):
            Circle(SKETCH13_R, mode=Mode.SUBTRACT)
    extrude(amount=BOSS_EXTRUDE11_DEPTH)

    # Sketch14 → Boss-Extrude12 (add)
    with BuildSketch(Plane(origin=(0, 10, 0), x_dir=(1, 0, 0), z_dir=(0, 1, 0)).offset(BOSS_EXTRUDE12_START)):
        with Locations(Location((5.753897802, 0, 0), (0, 0, 90))):
            Circle(SKETCH14_R)
    extrude(amount=BOSS_EXTRUDE12_DEPTH)

    # Sketch15 → Boss-Extrude13 (add)
    with BuildSketch(Plane(origin=(0, 10, 0), x_dir=(1, 0, 0), z_dir=(0, 1, 0))):
        with Locations(Location((5.753897802, 0, 0), (0, 0, 90))):
            Circle(SKETCH15_R)
    extrude(amount=BOSS_EXTRUDE13_DEPTH)

    # Sketch17 → Cut-Extrude3 (cut)
    with BuildSketch(Plane(origin=(0, 12.5, 0), x_dir=(1, 0, 0), z_dir=(0, 1, 0))):
        with Locations(Location((5.753897802, 0, 0), (0, 0, 270))):
            Circle(SKETCH17_R)
    extrude(amount=-CUT_EXTRUDE3_DEPTH, mode=Mode.SUBTRACT)

    # Sketch19 → Cut-Extrude5 (cut)
    with BuildSketch(Plane(origin=(0, 12.5, 0), x_dir=(1, 0, 0), z_dir=(0, 1, 0))):
        with BuildLine():
            Line((10.533897802, -3), (10.533897802, -2.823055401))
            Line((10.533897802, -2.823055401), (8.242765452, -5))
            Line((8.242765452, -5), (8.533897802, -5))
            ThreePointArc((8.533897802, -5), (9.948111365, -4.414213562), (10.533897802, -3))
        make_face()
        with BuildLine():
            Line((8.533897802, 5), (8.242765452, 5))
            Line((8.242765452, 5), (10.533897802, 2.823055401))
            Line((10.533897802, 2.823055401), (10.533897802, 3))
            ThreePointArc((10.533897802, 3), (9.948111365, 4.414213562), (8.533897802, 5))
        make_face()
    extrude(amount=-CUT_EXTRUDE5_DEPTH, mode=Mode.SUBTRACT)


solid = part.part
